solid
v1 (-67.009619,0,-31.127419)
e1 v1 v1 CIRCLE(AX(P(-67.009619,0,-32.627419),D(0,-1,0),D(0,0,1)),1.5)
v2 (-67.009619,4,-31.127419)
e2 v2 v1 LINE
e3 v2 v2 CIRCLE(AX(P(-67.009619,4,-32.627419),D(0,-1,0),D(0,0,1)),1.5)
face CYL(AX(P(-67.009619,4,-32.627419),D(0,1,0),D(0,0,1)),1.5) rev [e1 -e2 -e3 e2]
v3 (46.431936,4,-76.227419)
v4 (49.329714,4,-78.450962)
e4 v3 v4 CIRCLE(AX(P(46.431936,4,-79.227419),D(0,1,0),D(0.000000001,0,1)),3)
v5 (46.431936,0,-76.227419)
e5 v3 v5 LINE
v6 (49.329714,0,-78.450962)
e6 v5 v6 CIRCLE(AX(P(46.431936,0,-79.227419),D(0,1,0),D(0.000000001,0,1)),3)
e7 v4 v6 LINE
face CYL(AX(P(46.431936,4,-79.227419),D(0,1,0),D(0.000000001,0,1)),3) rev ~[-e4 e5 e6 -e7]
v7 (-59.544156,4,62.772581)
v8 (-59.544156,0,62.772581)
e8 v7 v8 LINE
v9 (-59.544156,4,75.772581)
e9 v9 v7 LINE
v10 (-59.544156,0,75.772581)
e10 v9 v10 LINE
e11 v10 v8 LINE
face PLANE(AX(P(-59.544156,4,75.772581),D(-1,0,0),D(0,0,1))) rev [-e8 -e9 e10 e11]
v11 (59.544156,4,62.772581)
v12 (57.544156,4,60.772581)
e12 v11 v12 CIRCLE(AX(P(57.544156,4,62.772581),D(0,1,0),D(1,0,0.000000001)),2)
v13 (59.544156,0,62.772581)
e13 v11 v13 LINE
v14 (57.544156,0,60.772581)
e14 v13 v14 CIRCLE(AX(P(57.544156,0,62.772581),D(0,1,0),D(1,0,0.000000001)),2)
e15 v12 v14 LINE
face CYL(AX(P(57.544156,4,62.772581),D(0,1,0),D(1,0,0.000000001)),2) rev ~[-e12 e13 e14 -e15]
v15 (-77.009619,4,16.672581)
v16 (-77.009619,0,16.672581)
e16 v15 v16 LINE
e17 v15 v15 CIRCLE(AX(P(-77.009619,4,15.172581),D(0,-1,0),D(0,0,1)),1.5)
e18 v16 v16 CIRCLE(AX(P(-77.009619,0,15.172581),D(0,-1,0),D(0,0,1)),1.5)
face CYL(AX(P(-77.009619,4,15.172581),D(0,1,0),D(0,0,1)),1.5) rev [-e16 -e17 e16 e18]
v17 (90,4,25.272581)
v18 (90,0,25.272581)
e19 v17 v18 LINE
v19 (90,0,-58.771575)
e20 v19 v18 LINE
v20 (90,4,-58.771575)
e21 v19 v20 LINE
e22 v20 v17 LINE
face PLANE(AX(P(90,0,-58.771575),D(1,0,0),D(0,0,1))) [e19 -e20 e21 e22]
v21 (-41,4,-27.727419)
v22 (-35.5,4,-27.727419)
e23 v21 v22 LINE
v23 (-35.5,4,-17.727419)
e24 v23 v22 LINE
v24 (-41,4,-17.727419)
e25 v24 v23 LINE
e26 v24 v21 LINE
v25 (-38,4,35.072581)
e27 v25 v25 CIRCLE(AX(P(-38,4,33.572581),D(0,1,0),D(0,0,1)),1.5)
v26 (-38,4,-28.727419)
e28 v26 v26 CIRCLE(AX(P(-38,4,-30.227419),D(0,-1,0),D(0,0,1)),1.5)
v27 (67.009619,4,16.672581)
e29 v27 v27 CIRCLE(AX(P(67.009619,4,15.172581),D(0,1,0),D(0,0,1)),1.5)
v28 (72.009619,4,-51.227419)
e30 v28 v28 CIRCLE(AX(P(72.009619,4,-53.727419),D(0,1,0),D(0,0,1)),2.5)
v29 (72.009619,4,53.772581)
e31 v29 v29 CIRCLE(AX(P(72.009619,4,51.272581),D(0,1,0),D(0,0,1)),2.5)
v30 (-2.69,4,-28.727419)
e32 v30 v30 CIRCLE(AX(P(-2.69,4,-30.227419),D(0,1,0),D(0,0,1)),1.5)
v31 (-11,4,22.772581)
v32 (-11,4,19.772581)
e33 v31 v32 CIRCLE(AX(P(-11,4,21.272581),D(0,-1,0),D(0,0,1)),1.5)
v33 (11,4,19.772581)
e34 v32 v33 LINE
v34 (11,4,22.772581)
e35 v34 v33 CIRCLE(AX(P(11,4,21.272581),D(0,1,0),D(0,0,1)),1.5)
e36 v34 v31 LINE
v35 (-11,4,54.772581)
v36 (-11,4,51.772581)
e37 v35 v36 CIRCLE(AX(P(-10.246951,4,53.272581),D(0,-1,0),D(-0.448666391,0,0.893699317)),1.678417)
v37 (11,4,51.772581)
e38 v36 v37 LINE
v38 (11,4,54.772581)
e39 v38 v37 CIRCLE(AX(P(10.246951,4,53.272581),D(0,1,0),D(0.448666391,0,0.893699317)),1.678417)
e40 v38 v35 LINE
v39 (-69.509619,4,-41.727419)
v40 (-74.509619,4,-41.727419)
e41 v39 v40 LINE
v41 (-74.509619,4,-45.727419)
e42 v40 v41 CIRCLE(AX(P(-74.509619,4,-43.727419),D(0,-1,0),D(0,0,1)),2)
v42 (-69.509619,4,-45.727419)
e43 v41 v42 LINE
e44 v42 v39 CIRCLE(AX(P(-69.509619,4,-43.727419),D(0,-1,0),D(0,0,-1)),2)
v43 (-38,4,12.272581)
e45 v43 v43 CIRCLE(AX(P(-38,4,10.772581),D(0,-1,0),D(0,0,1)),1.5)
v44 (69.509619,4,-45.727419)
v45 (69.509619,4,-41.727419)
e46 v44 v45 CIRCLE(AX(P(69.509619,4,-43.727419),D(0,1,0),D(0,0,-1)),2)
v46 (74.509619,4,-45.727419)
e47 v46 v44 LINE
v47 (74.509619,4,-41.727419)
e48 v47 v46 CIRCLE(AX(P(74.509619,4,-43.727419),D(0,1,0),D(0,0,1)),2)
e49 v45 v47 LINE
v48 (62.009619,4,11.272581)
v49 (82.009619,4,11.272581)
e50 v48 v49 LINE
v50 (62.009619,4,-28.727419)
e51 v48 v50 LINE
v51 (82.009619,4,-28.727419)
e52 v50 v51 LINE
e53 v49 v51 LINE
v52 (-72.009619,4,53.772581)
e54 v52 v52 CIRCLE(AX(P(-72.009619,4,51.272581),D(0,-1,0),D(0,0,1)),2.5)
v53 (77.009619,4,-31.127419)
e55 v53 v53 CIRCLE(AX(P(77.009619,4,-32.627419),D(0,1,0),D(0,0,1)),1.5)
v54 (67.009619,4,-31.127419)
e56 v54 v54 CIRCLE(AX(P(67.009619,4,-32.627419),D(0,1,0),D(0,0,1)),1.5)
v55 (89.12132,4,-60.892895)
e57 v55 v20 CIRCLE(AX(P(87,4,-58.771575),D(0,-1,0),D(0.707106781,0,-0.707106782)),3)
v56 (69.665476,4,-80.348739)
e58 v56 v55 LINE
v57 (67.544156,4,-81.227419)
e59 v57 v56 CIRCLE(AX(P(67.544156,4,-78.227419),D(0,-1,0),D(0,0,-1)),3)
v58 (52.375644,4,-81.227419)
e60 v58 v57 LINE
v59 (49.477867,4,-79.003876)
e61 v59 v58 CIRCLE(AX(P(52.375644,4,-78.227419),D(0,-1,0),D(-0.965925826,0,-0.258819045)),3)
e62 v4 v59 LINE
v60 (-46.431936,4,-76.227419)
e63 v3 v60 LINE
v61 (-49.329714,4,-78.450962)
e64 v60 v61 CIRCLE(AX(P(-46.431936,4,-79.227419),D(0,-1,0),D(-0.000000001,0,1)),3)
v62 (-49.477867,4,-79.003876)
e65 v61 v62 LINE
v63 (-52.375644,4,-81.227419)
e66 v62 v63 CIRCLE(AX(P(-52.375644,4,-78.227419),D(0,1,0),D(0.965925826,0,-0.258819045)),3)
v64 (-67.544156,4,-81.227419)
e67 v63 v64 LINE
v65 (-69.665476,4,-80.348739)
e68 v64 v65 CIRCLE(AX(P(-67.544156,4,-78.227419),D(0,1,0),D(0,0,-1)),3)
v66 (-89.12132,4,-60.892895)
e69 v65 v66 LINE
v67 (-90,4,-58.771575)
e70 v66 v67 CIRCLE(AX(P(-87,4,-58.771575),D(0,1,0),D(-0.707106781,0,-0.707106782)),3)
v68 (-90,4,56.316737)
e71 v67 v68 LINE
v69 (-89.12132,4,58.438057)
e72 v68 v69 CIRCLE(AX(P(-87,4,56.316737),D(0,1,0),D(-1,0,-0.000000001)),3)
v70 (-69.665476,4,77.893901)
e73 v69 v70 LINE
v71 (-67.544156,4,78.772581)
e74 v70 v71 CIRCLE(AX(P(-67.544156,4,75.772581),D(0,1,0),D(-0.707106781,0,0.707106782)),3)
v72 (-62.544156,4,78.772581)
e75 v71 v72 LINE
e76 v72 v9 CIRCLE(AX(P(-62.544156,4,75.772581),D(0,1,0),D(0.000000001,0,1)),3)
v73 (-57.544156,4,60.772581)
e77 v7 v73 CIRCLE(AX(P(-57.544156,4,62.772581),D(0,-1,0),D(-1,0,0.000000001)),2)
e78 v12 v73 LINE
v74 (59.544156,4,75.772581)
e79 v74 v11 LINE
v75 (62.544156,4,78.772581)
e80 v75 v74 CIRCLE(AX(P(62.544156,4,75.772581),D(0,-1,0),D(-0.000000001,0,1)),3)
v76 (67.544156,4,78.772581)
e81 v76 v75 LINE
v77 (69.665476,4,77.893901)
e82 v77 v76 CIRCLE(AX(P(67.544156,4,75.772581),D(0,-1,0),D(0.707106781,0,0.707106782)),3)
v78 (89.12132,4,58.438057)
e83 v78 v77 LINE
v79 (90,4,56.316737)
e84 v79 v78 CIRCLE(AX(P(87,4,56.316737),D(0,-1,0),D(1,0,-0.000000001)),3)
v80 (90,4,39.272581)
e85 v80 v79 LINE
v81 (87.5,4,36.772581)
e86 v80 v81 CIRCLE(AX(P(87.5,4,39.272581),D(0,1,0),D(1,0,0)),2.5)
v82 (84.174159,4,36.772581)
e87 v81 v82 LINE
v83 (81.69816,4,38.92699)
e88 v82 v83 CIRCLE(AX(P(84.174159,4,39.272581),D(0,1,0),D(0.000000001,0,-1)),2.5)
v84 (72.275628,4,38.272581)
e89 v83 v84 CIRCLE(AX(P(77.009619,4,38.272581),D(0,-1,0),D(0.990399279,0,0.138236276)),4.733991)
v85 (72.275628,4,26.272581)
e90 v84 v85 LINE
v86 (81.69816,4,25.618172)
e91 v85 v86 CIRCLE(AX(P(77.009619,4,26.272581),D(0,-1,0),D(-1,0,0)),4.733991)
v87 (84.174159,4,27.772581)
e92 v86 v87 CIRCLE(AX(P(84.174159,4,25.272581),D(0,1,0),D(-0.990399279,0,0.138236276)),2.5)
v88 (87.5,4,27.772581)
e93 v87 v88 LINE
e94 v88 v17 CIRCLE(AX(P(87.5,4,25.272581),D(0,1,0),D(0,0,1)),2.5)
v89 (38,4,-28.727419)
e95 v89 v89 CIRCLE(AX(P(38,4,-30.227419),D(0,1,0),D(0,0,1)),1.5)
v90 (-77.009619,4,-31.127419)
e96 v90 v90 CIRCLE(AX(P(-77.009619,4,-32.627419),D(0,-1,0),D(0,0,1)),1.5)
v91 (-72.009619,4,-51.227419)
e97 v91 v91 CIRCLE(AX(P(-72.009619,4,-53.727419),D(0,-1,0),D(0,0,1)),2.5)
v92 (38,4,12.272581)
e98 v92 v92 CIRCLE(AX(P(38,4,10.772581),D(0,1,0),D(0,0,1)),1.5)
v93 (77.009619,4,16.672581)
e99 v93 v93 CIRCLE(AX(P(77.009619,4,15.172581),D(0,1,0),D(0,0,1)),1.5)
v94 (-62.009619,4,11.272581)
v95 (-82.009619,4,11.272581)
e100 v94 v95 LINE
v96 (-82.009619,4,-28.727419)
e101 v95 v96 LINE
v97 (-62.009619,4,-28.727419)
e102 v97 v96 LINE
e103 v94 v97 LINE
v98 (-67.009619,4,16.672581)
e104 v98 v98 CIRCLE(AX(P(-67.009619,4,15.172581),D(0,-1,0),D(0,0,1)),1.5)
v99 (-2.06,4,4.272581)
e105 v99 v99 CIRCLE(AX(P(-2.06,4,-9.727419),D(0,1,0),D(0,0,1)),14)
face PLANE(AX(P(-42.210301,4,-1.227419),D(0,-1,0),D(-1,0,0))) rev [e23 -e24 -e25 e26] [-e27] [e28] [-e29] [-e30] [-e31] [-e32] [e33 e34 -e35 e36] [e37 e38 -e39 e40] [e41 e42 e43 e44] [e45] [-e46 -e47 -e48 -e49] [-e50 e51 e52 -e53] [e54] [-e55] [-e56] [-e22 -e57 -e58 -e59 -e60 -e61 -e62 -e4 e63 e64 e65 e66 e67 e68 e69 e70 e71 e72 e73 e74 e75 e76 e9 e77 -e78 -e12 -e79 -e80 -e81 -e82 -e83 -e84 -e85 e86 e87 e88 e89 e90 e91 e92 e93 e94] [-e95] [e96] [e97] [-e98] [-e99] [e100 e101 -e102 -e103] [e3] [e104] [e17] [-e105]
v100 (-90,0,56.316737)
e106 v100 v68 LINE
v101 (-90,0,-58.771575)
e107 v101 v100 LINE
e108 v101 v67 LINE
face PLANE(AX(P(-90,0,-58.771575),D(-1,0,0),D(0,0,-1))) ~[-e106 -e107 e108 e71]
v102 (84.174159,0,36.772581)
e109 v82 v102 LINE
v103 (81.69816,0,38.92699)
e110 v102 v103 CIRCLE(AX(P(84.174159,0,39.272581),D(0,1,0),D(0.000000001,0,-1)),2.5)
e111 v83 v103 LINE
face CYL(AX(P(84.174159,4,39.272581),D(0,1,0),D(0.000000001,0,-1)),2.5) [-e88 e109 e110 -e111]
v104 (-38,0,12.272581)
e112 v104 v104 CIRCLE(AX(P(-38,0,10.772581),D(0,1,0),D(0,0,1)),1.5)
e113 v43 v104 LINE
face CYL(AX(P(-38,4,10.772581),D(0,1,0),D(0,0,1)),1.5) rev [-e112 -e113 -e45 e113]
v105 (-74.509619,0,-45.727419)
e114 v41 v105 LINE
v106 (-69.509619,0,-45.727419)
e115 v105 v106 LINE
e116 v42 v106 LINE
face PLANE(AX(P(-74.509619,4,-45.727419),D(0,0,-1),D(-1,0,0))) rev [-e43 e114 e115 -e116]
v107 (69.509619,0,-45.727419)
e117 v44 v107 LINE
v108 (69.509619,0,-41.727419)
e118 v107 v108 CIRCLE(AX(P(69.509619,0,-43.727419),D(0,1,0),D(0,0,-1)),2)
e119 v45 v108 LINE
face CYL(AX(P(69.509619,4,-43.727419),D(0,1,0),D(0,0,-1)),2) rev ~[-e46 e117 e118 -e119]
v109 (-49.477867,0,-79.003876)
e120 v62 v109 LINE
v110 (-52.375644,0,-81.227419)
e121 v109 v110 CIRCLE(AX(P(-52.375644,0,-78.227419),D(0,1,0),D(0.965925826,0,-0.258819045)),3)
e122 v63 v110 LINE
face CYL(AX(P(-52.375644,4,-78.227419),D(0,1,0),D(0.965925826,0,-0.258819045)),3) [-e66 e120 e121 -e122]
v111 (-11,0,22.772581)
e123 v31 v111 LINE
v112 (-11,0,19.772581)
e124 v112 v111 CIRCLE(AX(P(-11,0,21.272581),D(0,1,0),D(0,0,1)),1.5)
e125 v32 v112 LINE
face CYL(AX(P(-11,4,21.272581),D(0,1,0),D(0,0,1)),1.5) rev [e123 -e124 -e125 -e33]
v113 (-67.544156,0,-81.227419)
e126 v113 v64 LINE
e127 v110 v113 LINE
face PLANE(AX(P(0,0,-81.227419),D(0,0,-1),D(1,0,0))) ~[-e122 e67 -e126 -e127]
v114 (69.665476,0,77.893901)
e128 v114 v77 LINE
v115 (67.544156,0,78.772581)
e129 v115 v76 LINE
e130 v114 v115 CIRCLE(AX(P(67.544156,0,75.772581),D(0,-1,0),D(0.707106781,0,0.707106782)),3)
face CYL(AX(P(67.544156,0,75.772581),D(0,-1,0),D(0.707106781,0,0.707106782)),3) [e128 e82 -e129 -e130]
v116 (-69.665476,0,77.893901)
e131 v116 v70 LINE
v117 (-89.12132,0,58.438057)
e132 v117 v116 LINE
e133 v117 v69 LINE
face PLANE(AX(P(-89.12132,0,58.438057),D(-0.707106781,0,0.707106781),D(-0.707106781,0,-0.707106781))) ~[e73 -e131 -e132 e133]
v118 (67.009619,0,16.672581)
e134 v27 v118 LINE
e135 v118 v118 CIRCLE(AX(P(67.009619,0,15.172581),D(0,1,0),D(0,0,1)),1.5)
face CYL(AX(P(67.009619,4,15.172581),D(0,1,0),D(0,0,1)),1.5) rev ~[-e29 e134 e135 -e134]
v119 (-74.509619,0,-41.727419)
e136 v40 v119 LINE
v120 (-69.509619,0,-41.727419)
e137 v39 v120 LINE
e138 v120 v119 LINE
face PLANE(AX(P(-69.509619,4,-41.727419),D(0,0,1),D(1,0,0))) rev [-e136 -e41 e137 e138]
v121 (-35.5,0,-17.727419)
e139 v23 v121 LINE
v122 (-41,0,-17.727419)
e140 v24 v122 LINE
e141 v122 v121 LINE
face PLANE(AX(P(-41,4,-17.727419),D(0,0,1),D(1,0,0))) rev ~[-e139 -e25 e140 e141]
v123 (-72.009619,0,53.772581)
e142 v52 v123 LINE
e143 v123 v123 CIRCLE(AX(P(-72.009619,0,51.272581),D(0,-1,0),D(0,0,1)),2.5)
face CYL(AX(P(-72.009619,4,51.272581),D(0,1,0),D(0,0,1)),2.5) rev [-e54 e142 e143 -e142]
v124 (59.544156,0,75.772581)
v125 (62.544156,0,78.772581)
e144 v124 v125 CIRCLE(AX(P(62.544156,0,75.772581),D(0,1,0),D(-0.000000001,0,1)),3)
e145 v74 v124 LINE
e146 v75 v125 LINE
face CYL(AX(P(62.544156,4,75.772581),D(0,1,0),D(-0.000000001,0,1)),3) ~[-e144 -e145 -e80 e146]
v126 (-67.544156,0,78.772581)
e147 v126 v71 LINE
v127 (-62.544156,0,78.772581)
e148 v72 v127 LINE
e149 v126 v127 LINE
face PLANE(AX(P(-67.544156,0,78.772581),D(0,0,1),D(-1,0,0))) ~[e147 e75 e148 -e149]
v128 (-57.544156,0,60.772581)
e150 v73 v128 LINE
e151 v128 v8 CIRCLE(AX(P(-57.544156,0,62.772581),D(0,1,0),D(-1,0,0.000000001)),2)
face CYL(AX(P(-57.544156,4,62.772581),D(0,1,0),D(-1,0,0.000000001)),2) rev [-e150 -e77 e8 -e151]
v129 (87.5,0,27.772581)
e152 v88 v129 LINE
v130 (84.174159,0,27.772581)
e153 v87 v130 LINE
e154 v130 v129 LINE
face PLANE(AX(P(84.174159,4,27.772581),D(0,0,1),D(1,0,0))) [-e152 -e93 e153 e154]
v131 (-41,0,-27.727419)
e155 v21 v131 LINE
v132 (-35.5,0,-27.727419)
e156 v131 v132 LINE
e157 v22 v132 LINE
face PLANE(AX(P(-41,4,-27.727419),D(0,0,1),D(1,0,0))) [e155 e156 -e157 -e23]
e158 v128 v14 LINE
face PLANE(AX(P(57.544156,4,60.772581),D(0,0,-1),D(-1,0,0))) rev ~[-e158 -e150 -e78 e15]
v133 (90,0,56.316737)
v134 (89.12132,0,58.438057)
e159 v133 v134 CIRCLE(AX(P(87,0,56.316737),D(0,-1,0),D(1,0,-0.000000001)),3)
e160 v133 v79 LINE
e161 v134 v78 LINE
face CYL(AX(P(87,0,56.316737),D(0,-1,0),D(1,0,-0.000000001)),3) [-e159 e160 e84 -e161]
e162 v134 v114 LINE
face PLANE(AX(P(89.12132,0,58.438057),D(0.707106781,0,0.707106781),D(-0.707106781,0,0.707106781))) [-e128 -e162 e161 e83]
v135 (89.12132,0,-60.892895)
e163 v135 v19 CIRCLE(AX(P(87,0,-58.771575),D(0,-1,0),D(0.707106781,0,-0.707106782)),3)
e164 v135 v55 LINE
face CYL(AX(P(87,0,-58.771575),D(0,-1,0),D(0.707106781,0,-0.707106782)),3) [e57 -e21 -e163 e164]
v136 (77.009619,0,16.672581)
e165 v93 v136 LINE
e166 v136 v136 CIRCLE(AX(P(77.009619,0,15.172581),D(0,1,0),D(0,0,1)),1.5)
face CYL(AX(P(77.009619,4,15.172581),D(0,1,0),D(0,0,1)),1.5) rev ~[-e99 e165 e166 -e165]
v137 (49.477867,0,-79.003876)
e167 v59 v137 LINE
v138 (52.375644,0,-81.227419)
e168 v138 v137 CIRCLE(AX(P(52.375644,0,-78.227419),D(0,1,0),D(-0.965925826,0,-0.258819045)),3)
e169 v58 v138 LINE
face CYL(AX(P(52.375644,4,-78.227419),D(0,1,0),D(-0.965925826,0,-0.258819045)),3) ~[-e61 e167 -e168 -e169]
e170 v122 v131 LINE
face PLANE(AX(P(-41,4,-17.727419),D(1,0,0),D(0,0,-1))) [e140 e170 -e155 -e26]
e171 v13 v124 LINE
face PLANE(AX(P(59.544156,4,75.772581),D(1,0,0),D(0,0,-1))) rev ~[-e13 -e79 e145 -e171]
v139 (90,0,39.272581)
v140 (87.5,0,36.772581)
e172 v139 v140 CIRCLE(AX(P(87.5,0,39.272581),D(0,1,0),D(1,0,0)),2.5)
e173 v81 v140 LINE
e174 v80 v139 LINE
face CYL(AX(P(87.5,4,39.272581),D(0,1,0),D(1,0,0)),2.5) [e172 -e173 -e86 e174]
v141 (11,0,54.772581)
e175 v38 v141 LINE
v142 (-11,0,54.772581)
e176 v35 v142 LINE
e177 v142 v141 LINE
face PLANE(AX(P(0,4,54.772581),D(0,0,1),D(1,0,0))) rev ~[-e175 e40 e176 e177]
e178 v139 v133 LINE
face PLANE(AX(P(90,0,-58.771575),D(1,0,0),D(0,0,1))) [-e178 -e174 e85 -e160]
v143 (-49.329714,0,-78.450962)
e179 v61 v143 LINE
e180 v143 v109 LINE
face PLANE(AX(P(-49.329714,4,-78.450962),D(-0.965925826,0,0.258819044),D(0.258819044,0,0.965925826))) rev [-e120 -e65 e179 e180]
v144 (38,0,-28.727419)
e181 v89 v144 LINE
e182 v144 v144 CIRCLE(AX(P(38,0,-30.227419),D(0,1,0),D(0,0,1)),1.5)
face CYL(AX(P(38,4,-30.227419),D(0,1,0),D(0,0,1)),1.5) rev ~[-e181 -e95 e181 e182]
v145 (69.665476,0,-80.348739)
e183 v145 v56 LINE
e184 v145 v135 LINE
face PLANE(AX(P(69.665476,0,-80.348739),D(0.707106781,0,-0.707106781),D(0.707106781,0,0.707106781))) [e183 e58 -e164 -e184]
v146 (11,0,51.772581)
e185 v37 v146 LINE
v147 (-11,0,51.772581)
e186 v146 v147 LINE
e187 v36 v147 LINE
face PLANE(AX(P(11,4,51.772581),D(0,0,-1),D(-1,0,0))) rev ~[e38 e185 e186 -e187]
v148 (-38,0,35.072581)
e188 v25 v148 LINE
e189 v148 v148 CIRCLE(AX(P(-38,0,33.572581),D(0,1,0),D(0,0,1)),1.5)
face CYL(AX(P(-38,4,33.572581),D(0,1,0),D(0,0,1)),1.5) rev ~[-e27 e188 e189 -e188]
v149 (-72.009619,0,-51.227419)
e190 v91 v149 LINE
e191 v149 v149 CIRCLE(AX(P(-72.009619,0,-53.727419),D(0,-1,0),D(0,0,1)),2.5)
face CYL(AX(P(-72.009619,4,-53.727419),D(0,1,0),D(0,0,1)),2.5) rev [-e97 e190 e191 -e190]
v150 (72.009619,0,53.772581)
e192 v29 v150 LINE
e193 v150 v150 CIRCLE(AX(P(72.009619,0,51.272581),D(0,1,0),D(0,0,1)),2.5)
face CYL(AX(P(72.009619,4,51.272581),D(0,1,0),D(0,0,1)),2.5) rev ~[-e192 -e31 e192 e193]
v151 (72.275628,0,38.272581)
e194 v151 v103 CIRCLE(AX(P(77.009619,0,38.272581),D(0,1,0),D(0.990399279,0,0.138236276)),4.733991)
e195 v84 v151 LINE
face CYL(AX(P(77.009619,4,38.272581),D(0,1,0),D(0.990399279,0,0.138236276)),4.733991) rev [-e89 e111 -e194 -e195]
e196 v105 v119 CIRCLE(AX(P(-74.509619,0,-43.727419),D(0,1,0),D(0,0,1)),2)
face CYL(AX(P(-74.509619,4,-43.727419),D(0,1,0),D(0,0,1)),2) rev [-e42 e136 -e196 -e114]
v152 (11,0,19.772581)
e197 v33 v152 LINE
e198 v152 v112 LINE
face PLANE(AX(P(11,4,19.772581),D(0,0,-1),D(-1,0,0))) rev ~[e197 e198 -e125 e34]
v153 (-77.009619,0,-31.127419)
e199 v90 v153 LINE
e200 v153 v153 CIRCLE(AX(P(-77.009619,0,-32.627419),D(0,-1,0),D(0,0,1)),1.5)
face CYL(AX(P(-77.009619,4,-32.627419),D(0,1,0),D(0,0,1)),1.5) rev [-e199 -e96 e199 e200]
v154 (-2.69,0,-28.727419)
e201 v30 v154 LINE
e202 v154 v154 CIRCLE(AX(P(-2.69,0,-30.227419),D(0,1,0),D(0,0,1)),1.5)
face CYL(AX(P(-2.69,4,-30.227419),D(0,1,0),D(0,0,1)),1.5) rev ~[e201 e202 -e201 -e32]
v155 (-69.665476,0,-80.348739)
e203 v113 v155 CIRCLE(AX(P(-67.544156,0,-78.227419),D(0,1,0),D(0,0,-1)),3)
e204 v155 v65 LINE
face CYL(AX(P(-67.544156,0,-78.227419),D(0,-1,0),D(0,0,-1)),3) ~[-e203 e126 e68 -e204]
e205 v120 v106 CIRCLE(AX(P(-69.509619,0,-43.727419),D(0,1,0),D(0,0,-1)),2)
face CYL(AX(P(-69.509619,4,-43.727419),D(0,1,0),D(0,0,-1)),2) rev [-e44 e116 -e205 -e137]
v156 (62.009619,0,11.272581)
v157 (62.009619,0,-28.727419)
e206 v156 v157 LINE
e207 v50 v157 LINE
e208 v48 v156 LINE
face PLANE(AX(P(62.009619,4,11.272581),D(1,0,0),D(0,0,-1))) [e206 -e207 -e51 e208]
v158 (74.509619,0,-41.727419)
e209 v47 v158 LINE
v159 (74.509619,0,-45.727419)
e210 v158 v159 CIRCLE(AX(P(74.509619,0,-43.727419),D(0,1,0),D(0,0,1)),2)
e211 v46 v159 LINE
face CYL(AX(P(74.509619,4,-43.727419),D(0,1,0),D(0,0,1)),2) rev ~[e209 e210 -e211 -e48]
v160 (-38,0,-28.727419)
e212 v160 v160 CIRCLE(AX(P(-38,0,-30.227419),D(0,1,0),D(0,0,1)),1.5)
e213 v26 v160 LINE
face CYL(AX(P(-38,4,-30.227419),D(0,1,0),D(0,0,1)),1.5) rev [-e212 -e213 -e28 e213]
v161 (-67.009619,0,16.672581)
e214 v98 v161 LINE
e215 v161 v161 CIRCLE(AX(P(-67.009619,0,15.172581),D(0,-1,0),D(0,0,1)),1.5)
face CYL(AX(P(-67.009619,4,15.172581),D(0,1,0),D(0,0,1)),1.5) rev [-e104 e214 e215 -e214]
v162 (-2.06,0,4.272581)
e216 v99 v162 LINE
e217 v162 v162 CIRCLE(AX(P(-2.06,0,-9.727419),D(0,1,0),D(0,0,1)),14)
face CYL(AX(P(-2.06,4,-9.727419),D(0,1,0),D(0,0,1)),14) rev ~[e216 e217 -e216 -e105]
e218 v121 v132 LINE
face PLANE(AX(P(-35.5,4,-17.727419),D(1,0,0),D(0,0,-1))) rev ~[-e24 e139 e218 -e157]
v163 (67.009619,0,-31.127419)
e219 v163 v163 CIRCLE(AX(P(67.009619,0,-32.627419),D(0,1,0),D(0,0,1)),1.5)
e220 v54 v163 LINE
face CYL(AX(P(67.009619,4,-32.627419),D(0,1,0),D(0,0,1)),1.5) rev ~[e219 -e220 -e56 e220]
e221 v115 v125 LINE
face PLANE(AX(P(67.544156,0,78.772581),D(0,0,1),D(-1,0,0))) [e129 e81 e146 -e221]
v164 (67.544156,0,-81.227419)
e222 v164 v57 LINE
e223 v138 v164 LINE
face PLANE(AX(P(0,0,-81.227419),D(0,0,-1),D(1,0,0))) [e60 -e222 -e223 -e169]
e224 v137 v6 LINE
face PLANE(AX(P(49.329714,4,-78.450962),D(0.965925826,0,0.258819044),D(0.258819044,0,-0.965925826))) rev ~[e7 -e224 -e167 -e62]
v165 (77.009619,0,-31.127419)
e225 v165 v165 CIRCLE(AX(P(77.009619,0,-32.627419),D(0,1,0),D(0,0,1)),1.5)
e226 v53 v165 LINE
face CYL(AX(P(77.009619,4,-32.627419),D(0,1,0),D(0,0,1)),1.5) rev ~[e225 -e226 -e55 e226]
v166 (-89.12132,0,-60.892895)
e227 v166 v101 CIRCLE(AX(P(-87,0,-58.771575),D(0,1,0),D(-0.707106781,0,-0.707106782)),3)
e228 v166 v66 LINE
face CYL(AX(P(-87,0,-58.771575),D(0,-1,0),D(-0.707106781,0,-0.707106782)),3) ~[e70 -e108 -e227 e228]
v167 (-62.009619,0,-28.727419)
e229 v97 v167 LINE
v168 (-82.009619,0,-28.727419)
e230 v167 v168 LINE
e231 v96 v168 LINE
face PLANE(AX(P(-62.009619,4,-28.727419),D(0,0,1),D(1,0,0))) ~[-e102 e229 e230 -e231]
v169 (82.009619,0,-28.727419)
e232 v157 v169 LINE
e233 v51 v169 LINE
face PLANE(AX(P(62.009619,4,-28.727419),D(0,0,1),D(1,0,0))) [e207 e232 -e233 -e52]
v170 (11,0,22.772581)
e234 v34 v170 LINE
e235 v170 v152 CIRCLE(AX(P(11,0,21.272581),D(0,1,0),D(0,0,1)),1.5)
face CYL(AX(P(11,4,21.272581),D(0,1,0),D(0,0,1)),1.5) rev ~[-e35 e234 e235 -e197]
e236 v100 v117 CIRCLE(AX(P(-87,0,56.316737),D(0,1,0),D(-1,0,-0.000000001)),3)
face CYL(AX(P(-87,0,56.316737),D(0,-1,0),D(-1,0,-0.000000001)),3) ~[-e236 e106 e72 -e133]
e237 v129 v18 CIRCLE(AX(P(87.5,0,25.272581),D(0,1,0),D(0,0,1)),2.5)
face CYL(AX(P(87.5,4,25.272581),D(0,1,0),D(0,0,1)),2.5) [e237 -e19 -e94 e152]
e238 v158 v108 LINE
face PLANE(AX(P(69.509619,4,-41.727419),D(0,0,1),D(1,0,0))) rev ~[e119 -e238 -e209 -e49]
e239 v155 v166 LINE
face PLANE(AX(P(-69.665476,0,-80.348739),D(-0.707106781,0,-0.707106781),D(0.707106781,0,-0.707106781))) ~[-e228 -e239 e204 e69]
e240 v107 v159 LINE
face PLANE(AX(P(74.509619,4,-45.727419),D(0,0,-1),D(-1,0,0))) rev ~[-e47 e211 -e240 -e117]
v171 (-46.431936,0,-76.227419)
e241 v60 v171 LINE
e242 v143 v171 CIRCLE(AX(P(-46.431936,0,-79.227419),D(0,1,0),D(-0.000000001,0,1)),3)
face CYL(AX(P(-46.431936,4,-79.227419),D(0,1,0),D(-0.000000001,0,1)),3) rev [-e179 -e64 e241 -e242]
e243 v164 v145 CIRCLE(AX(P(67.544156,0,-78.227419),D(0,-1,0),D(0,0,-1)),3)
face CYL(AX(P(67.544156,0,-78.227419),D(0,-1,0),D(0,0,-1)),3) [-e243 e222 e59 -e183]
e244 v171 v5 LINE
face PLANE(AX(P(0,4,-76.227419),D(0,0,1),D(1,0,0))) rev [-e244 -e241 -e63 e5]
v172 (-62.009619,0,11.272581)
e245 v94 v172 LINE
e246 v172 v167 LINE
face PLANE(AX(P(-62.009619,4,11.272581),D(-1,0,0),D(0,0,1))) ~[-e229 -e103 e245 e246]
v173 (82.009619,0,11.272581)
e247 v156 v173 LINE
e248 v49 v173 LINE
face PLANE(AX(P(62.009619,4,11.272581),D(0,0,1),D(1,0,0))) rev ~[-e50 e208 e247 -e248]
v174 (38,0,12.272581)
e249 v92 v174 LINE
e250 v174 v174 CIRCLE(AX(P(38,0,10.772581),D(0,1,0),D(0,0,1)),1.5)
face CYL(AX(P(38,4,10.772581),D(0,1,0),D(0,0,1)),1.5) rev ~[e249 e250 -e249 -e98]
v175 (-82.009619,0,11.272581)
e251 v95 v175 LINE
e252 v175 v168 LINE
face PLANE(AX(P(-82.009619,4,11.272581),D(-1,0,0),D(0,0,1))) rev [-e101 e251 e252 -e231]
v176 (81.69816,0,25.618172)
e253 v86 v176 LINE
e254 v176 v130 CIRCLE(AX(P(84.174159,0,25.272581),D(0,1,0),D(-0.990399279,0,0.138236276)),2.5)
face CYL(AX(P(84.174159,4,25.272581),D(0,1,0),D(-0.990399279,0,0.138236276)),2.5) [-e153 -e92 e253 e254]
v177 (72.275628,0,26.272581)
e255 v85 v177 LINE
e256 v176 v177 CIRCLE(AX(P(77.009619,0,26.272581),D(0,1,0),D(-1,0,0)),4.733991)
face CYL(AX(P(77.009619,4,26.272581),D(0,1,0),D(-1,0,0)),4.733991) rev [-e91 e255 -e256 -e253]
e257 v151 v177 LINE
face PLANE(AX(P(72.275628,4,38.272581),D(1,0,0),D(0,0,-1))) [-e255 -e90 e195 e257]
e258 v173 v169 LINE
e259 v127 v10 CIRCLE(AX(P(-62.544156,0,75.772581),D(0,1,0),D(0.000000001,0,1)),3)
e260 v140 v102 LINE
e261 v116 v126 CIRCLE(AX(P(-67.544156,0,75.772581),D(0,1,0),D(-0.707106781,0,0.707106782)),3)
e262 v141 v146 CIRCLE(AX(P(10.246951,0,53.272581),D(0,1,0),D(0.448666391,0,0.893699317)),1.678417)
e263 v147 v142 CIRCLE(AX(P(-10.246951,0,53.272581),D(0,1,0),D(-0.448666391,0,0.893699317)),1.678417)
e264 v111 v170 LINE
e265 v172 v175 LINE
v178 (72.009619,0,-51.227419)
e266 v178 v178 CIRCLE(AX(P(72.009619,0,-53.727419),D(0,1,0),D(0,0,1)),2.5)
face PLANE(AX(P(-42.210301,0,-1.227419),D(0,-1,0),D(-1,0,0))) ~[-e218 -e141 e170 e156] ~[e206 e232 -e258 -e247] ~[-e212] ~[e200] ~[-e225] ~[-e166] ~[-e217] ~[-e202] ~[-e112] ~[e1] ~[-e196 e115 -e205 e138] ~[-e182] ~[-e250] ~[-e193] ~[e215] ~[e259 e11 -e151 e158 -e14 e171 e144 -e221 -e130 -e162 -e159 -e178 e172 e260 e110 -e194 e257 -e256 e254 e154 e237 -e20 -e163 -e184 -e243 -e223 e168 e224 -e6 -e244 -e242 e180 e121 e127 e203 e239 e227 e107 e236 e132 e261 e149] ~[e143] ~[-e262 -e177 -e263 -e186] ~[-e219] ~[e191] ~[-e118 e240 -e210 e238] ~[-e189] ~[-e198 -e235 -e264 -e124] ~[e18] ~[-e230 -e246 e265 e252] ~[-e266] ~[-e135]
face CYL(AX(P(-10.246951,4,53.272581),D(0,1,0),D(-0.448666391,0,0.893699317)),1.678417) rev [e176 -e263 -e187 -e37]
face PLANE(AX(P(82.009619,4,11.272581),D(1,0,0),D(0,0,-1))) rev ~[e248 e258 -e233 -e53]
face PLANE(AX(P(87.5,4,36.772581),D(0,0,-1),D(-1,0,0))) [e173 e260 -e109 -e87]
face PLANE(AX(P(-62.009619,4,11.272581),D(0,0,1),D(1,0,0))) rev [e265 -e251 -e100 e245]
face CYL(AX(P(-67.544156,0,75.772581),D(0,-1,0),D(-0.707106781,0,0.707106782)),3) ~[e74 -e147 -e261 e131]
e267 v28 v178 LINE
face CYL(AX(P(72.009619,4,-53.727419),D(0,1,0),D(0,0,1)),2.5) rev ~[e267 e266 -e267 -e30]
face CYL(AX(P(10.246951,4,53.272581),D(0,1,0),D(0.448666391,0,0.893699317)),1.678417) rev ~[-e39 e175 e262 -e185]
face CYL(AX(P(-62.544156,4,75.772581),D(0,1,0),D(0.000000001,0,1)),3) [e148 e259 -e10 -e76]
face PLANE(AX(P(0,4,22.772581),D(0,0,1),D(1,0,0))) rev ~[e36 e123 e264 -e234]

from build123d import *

# Parameters (mm, degrees)
BOSS_EXTRUDE1_DEPTH = 4
CUT_EXTRUDE1_REACH  = 123.301
SKETCH6_R           = 1.5
SKETCH6_R_2         = 2.5
SKETCH6_W           = 20
SKETCH6_H           = 40
SKETCH7_R           = 1.5
CUT_EXTRUDE2_DEPTH  = 122.300839153
SKETCH8_W           = 5.5
SKETCH8_H           = 10
CUT_EXTRUDE3_DEPTH  = 122.300839153
SKETCH9_R           = 1.5
SKETCH9_R_2         = 14
CUT_EXTRUDE4_DEPTH  = 122.300839153


with BuildPart() as part:
    # Sketch1 → Boss-Extrude1 (new body)
    with BuildSketch(Plane(origin=(0, 0, 0), x_dir=(1, 0, 0), z_dir=(0, 1, 0))):
        with BuildLine():
            Line((0, -78.772581113), (0, 81.227418887))
            Line((0, 81.227418887), (67.544155877, 81.227418887))
            ThreePointArc((67.544155877, 81.227418887), (68.692206174, 80.999057485), (69.665476221, 80.348739231))
            Line((69.665476221, 80.348739231), (89.121320344, 60.892895108))
            ThreePointArc((89.121320344, 60.892895108), (89.771638598, 59.919625062), (90, 58.771574765))
            Line((90, 58.771574765), (90, -56.31673699))
            ThreePointArc((90, -56.31673699), (89.771638598, -57.464787287), (89.121320344, -58.438057333))
            Line((89.121320344, -58.438057333), (69.665476221, -77.893901456))
            ThreePointArc((69.665476221, -77.893901456), (68.692206174, -78.54421971), (67.544155877, -78.772581113))
            Line((67.544155877, -78.772581113), (0, -78.772581113))
        make_face()
    boss_extrude1 = extrude(amount=BOSS_EXTRUDE1_DEPTH)

    # Sketch6 → Cut-Extrude1 (cut, up to next)
    with BuildSketch(Plane(origin=(0, 4, 0), x_dir=(1, 0, 0), z_dir=(0, 1, 0)), mode=Mode.PRIVATE) as cut_extrude1_sk1:
        with Locations(Location((67.009618943, 32.627418887, 0), (0, 0, 270))):
            Circle(SKETCH6_R)
    cut_extrude1_tool1 = extrude(cut_extrude1_sk1.sketch, amount=-CUT_EXTRUDE1_REACH, mode=Mode.PRIVATE) & part.part
    # Sketch6 → Cut-Extrude1 (cut, up to next)
    with BuildSketch(Plane(origin=(0, 4, 0), x_dir=(1, 0, 0), z_dir=(0, 1, 0)), mode=Mode.PRIVATE) as cut_extrude1_sk2:
        with Locations(Location((77.009618943, 32.627418887, 0), (0, 0, 270))):
            Circle(SKETCH6_R)
    cut_extrude1_tool2 = extrude(cut_extrude1_sk2.sketch, amount=-CUT_EXTRUDE1_REACH, mode=Mode.PRIVATE) & part.part
    # Sketch6 → Cut-Extrude1 (cut, up to next)
    with BuildSketch(Plane(origin=(0, 4, 0), x_dir=(1, 0, 0), z_dir=(0, 1, 0)), mode=Mode.PRIVATE) as cut_extrude1_sk3:
        with Locations(Location((77.009618943, -15.172581113, 0), (0, 0, 270))):
            Circle(SKETCH6_R)
    cut_extrude1_tool3 = extrude(cut_extrude1_sk3.sketch, amount=-CUT_EXTRUDE1_REACH, mode=Mode.PRIVATE) & part.part
    # Sketch6 → Cut-Extrude1 (cut, up to next)
    with BuildSketch(Plane(origin=(0, 4, 0), x_dir=(1, 0, 0), z_dir=(0, 1, 0)), mode=Mode.PRIVATE) as cut_extrude1_sk4:
        with Locations(Location((67.009618943, -15.172581113, 0), (0, 0, 270))):
            Circle(SKETCH6_R)
    cut_extrude1_tool4 = extrude(cut_extrude1_sk4.sketch, amount=-CUT_EXTRUDE1_REACH, mode=Mode.PRIVATE) & part.part
    # Sketch6 → Cut-Extrude1 (cut, up to next)
    with BuildSketch(Plane(origin=(0, 4, 0), x_dir=(1, 0, 0), z_dir=(0, 1, 0)), mode=Mode.PRIVATE) as cut_extrude1_sk5:
        with Locations(Location((72.009618943, 53.727418887, 0), (0, 0, 270))):
            Circle(SKETCH6_R_2)
    cut_extrude1_tool5 = extrude(cut_extrude1_sk5.sketch, amount=-CUT_EXTRUDE1_REACH, mode=Mode.PRIVATE) & part.part
    # Sketch6 → Cut-Extrude1 (cut, up to next)
    with BuildSketch(Plane(origin=(0, 4, 0), x_dir=(1, 0, 0), z_dir=(0, 1, 0)), mode=Mode.PRIVATE) as cut_extrude1_sk6:
        with Locations(Location((72.009618943, -51.272581113, 0), (0, 0, 270))):
            Circle(SKETCH6_R_2)
    cut_extrude1_tool6 = extrude(cut_extrude1_sk6.sketch, amount=-CUT_EXTRUDE1_REACH, mode=Mode.PRIVATE) & part.part
    # Sketch6 → Cut-Extrude1 (cut, up to next)
    with BuildSketch(Plane(origin=(0, 4, 0), x_dir=(1, 0, 0), z_dir=(0, 1, 0)), mode=Mode.PRIVATE) as cut_extrude1_sk7:
        with Locations((72.009618943, 8.727418887)):
            Rectangle(SKETCH6_W, SKETCH6_H)
    cut_extrude1_tool7 = extrude(cut_extrude1_sk7.sketch, amount=-CUT_EXTRUDE1_REACH, mode=Mode.PRIVATE) & part.part
    cut_extrude1_1 = cut_extrude1_tool1.solids().sort_by_distance((67.009619, 4, -32.627419))[0]
    add(cut_extrude1_1, mode=Mode.SUBTRACT)
    cut_extrude1_2 = cut_extrude1_tool2.solids().sort_by_distance((77.009619, 4, -32.627419))[0]
    add(cut_extrude1_2, mode=Mode.SUBTRACT)
    cut_extrude1_3 = cut_extrude1_tool3.solids().sort_by_distance((77.009619, 4, 15.172581))[0]
    add(cut_extrude1_3, mode=Mode.SUBTRACT)
    cut_extrude1_4 = cut_extrude1_tool4.solids().sort_by_distance((67.009619, 4, 15.172581))[0]
    add(cut_extrude1_4, mode=Mode.SUBTRACT)
    cut_extrude1_5 = cut_extrude1_tool5.solids().sort_by_distance((72.009619, 4, -53.727419))[0]
    add(cut_extrude1_5, mode=Mode.SUBTRACT)
    cut_extrude1_6 = cut_extrude1_tool6.solids().sort_by_distance((72.009619, 4, 51.272581))[0]
    add(cut_extrude1_6, mode=Mode.SUBTRACT)
    cut_extrude1_7 = cut_extrude1_tool7.solids().sort_by_distance((72.009619, 4, -8.727419))[0]
    add(cut_extrude1_7, mode=Mode.SUBTRACT)
    cut_extrude1 = cut_extrude1_1 + cut_extrude1_2 + cut_extrude1_3 + cut_extrude1_4 + cut_extrude1_5 + cut_extrude1_6 + cut_extrude1_7  # Cut-Extrude1 as one shape, for the pattern or mirror that repeats it

    # Sketch7 → Cut-Extrude2 (cut, through all)
    with BuildSketch(Plane(origin=(0, 4, 0), x_dir=(1, 0, 0), z_dir=(0, 1, 0))):
        with BuildLine():
            Line((11, -51.772581113), (0, -51.772581113))
            Line((0, -51.772581113), (0, -54.772581113))
            Line((0, -54.772581113), (11, -54.772581113))
            ThreePointArc((11, -54.772581113), (11.925367624, -53.272581113), (11, -51.772581113))
        make_face()
        with BuildLine():
            Line((0, -19.772581113), (0, -22.772581113))
            Line((0, -22.772581113), (11, -22.772581113))
            ThreePointArc((11, -22.772581113), (12.5, -21.272581113), (11, -19.772581113))
            Line((11, -19.772581113), (0, -19.772581113))
        make_face()
        with BuildLine():
            Line((57.544155877, -60.772581113), (0, -60.772581113))
            Line((0, -60.772581113), (0, -78.772581113))
            Line((0, -78.772581113), (62.544155877, -78.772581113))
            ThreePointArc((62.544155877, -78.772581113), (60.422835534, -77.893901456), (59.544155877, -75.772581113))
            Line((59.544155877, -75.772581113), (59.544155877, -62.772581113))
            ThreePointArc((59.544155877, -62.772581113), (58.95836944, -61.35836755), (57.544155877, -60.772581113))
        make_face()
        with BuildLine():
            Line((0, 81.227418887), (0, 76.227418887))
            Line((0, 76.227418887), (46.431936457, 76.227418887))
            ThreePointArc((46.431936457, 76.227418887), (48.258220744, 76.847358867), (49.329713936, 78.450961752))
            Line((49.329713936, 78.450961752), (49.477866868, 79.003876023))
            ThreePointArc((49.477866868, 79.003876023), (50.54936006, 80.607478908), (52.375644347, 81.227418887))
            Line((52.375644347, 81.227418887), (0, 81.227418887))
        make_face()
        with BuildLine():
            Line((74.509618943, 45.727418887), (69.509618943, 45.727418887))
            ThreePointArc((69.509618943, 45.727418887), (67.509618943, 43.727418887), (69.509618943, 41.727418887))
            Line((69.509618943, 41.727418887), (74.509618943, 41.727418887))
            ThreePointArc((74.509618943, 41.727418887), (76.509618943, 43.727418887), (74.509618943, 45.727418887))
        make_face()
        with Locations(Location((38, 30.227418887, 0), (0, 0, 270))):
            Circle(SKETCH7_R)
        with Locations(Location((38, -10.772581113, 0), (0, 0, 270))):
            Circle(SKETCH7_R)
    cut_extrude2 = extrude(amount=-CUT_EXTRUDE2_DEPTH, mode=Mode.SUBTRACT)

    # Mirror1: Boss-Extrude1, Cut-Extrude1, Cut-Extrude2 across plane
    add(boss_extrude1.mirror(Plane(origin=(0, 4, 78.772581113), x_dir=(0, 0, 1), z_dir=(1, 0, 0))))
    add(cut_extrude1.mirror(Plane(origin=(0, 4, 78.772581113), x_dir=(0, 0, 1), z_dir=(1, 0, 0))), mode=Mode.SUBTRACT)
    add(cut_extrude2.mirror(Plane(origin=(0, 4, 78.772581113), x_dir=(0, 0, 1), z_dir=(1, 0, 0))), mode=Mode.SUBTRACT)

    # Sketch8 → Cut-Extrude3 (cut, through all)
    with BuildSketch(Plane(origin=(0, 4, 0), x_dir=(1, 0, 0), z_dir=(0, 1, 0))):
        with Locations((-38.25, 22.727418887)):
            Rectangle(SKETCH8_W, SKETCH8_H)
        with BuildLine():
            Line((90, -25.272581113), (90, -39.272581113))
            ThreePointArc((90, -39.272581113), (89.267766953, -37.50481416), (87.5, -36.772581113))
            Line((87.5, -36.772581113), (84.174158586, -36.772581113))
            ThreePointArc((84.174158586, -36.772581113), (82.533118782, -37.386583137), (81.698160388, -38.926990423))
            ThreePointArc((81.698160388, -38.926990423), (76.681626099, -42.995196185), (72.27562777, -38.272581113))
            Line((72.27562777, -38.272581113), (72.27562777, -26.272581113))
            ThreePointArc((72.27562777, -26.272581113), (76.681626099, -21.549966041), (81.698160388, -25.618171802))
            ThreePointArc((81.698160388, -25.618171802), (82.533118782, -27.158579088), (84.174158586, -27.772581113))
            Line((84.174158586, -27.772581113), (87.5, -27.772581113))
            ThreePointArc((87.5, -27.772581113), (89.267766953, -27.040348066), (90, -25.272581113))
        make_face()
    extrude(amount=-CUT_EXTRUDE3_DEPTH, mode=Mode.SUBTRACT)

    # Sketch9 → Cut-Extrude4 (cut, through all)
    with BuildSketch(Plane(origin=(0, 4, 0), x_dir=(1, 0, 0), z_dir=(0, 1, 0))):
        with Locations(Location((-2.69, 30.227418887, 0), (0, 0, 270))):
            Circle(SKETCH9_R)
        with Locations(Location((-38, -33.572581113, 0), (0, 0, 270))):
            Circle(SKETCH9_R)
        with Locations(Location((-2.06, 9.727418887, 0), (0, 0, 270))):
            Circle(SKETCH9_R_2)
    extrude(amount=-CUT_EXTRUDE4_DEPTH, mode=Mode.SUBTRACT)


solid = part.part
